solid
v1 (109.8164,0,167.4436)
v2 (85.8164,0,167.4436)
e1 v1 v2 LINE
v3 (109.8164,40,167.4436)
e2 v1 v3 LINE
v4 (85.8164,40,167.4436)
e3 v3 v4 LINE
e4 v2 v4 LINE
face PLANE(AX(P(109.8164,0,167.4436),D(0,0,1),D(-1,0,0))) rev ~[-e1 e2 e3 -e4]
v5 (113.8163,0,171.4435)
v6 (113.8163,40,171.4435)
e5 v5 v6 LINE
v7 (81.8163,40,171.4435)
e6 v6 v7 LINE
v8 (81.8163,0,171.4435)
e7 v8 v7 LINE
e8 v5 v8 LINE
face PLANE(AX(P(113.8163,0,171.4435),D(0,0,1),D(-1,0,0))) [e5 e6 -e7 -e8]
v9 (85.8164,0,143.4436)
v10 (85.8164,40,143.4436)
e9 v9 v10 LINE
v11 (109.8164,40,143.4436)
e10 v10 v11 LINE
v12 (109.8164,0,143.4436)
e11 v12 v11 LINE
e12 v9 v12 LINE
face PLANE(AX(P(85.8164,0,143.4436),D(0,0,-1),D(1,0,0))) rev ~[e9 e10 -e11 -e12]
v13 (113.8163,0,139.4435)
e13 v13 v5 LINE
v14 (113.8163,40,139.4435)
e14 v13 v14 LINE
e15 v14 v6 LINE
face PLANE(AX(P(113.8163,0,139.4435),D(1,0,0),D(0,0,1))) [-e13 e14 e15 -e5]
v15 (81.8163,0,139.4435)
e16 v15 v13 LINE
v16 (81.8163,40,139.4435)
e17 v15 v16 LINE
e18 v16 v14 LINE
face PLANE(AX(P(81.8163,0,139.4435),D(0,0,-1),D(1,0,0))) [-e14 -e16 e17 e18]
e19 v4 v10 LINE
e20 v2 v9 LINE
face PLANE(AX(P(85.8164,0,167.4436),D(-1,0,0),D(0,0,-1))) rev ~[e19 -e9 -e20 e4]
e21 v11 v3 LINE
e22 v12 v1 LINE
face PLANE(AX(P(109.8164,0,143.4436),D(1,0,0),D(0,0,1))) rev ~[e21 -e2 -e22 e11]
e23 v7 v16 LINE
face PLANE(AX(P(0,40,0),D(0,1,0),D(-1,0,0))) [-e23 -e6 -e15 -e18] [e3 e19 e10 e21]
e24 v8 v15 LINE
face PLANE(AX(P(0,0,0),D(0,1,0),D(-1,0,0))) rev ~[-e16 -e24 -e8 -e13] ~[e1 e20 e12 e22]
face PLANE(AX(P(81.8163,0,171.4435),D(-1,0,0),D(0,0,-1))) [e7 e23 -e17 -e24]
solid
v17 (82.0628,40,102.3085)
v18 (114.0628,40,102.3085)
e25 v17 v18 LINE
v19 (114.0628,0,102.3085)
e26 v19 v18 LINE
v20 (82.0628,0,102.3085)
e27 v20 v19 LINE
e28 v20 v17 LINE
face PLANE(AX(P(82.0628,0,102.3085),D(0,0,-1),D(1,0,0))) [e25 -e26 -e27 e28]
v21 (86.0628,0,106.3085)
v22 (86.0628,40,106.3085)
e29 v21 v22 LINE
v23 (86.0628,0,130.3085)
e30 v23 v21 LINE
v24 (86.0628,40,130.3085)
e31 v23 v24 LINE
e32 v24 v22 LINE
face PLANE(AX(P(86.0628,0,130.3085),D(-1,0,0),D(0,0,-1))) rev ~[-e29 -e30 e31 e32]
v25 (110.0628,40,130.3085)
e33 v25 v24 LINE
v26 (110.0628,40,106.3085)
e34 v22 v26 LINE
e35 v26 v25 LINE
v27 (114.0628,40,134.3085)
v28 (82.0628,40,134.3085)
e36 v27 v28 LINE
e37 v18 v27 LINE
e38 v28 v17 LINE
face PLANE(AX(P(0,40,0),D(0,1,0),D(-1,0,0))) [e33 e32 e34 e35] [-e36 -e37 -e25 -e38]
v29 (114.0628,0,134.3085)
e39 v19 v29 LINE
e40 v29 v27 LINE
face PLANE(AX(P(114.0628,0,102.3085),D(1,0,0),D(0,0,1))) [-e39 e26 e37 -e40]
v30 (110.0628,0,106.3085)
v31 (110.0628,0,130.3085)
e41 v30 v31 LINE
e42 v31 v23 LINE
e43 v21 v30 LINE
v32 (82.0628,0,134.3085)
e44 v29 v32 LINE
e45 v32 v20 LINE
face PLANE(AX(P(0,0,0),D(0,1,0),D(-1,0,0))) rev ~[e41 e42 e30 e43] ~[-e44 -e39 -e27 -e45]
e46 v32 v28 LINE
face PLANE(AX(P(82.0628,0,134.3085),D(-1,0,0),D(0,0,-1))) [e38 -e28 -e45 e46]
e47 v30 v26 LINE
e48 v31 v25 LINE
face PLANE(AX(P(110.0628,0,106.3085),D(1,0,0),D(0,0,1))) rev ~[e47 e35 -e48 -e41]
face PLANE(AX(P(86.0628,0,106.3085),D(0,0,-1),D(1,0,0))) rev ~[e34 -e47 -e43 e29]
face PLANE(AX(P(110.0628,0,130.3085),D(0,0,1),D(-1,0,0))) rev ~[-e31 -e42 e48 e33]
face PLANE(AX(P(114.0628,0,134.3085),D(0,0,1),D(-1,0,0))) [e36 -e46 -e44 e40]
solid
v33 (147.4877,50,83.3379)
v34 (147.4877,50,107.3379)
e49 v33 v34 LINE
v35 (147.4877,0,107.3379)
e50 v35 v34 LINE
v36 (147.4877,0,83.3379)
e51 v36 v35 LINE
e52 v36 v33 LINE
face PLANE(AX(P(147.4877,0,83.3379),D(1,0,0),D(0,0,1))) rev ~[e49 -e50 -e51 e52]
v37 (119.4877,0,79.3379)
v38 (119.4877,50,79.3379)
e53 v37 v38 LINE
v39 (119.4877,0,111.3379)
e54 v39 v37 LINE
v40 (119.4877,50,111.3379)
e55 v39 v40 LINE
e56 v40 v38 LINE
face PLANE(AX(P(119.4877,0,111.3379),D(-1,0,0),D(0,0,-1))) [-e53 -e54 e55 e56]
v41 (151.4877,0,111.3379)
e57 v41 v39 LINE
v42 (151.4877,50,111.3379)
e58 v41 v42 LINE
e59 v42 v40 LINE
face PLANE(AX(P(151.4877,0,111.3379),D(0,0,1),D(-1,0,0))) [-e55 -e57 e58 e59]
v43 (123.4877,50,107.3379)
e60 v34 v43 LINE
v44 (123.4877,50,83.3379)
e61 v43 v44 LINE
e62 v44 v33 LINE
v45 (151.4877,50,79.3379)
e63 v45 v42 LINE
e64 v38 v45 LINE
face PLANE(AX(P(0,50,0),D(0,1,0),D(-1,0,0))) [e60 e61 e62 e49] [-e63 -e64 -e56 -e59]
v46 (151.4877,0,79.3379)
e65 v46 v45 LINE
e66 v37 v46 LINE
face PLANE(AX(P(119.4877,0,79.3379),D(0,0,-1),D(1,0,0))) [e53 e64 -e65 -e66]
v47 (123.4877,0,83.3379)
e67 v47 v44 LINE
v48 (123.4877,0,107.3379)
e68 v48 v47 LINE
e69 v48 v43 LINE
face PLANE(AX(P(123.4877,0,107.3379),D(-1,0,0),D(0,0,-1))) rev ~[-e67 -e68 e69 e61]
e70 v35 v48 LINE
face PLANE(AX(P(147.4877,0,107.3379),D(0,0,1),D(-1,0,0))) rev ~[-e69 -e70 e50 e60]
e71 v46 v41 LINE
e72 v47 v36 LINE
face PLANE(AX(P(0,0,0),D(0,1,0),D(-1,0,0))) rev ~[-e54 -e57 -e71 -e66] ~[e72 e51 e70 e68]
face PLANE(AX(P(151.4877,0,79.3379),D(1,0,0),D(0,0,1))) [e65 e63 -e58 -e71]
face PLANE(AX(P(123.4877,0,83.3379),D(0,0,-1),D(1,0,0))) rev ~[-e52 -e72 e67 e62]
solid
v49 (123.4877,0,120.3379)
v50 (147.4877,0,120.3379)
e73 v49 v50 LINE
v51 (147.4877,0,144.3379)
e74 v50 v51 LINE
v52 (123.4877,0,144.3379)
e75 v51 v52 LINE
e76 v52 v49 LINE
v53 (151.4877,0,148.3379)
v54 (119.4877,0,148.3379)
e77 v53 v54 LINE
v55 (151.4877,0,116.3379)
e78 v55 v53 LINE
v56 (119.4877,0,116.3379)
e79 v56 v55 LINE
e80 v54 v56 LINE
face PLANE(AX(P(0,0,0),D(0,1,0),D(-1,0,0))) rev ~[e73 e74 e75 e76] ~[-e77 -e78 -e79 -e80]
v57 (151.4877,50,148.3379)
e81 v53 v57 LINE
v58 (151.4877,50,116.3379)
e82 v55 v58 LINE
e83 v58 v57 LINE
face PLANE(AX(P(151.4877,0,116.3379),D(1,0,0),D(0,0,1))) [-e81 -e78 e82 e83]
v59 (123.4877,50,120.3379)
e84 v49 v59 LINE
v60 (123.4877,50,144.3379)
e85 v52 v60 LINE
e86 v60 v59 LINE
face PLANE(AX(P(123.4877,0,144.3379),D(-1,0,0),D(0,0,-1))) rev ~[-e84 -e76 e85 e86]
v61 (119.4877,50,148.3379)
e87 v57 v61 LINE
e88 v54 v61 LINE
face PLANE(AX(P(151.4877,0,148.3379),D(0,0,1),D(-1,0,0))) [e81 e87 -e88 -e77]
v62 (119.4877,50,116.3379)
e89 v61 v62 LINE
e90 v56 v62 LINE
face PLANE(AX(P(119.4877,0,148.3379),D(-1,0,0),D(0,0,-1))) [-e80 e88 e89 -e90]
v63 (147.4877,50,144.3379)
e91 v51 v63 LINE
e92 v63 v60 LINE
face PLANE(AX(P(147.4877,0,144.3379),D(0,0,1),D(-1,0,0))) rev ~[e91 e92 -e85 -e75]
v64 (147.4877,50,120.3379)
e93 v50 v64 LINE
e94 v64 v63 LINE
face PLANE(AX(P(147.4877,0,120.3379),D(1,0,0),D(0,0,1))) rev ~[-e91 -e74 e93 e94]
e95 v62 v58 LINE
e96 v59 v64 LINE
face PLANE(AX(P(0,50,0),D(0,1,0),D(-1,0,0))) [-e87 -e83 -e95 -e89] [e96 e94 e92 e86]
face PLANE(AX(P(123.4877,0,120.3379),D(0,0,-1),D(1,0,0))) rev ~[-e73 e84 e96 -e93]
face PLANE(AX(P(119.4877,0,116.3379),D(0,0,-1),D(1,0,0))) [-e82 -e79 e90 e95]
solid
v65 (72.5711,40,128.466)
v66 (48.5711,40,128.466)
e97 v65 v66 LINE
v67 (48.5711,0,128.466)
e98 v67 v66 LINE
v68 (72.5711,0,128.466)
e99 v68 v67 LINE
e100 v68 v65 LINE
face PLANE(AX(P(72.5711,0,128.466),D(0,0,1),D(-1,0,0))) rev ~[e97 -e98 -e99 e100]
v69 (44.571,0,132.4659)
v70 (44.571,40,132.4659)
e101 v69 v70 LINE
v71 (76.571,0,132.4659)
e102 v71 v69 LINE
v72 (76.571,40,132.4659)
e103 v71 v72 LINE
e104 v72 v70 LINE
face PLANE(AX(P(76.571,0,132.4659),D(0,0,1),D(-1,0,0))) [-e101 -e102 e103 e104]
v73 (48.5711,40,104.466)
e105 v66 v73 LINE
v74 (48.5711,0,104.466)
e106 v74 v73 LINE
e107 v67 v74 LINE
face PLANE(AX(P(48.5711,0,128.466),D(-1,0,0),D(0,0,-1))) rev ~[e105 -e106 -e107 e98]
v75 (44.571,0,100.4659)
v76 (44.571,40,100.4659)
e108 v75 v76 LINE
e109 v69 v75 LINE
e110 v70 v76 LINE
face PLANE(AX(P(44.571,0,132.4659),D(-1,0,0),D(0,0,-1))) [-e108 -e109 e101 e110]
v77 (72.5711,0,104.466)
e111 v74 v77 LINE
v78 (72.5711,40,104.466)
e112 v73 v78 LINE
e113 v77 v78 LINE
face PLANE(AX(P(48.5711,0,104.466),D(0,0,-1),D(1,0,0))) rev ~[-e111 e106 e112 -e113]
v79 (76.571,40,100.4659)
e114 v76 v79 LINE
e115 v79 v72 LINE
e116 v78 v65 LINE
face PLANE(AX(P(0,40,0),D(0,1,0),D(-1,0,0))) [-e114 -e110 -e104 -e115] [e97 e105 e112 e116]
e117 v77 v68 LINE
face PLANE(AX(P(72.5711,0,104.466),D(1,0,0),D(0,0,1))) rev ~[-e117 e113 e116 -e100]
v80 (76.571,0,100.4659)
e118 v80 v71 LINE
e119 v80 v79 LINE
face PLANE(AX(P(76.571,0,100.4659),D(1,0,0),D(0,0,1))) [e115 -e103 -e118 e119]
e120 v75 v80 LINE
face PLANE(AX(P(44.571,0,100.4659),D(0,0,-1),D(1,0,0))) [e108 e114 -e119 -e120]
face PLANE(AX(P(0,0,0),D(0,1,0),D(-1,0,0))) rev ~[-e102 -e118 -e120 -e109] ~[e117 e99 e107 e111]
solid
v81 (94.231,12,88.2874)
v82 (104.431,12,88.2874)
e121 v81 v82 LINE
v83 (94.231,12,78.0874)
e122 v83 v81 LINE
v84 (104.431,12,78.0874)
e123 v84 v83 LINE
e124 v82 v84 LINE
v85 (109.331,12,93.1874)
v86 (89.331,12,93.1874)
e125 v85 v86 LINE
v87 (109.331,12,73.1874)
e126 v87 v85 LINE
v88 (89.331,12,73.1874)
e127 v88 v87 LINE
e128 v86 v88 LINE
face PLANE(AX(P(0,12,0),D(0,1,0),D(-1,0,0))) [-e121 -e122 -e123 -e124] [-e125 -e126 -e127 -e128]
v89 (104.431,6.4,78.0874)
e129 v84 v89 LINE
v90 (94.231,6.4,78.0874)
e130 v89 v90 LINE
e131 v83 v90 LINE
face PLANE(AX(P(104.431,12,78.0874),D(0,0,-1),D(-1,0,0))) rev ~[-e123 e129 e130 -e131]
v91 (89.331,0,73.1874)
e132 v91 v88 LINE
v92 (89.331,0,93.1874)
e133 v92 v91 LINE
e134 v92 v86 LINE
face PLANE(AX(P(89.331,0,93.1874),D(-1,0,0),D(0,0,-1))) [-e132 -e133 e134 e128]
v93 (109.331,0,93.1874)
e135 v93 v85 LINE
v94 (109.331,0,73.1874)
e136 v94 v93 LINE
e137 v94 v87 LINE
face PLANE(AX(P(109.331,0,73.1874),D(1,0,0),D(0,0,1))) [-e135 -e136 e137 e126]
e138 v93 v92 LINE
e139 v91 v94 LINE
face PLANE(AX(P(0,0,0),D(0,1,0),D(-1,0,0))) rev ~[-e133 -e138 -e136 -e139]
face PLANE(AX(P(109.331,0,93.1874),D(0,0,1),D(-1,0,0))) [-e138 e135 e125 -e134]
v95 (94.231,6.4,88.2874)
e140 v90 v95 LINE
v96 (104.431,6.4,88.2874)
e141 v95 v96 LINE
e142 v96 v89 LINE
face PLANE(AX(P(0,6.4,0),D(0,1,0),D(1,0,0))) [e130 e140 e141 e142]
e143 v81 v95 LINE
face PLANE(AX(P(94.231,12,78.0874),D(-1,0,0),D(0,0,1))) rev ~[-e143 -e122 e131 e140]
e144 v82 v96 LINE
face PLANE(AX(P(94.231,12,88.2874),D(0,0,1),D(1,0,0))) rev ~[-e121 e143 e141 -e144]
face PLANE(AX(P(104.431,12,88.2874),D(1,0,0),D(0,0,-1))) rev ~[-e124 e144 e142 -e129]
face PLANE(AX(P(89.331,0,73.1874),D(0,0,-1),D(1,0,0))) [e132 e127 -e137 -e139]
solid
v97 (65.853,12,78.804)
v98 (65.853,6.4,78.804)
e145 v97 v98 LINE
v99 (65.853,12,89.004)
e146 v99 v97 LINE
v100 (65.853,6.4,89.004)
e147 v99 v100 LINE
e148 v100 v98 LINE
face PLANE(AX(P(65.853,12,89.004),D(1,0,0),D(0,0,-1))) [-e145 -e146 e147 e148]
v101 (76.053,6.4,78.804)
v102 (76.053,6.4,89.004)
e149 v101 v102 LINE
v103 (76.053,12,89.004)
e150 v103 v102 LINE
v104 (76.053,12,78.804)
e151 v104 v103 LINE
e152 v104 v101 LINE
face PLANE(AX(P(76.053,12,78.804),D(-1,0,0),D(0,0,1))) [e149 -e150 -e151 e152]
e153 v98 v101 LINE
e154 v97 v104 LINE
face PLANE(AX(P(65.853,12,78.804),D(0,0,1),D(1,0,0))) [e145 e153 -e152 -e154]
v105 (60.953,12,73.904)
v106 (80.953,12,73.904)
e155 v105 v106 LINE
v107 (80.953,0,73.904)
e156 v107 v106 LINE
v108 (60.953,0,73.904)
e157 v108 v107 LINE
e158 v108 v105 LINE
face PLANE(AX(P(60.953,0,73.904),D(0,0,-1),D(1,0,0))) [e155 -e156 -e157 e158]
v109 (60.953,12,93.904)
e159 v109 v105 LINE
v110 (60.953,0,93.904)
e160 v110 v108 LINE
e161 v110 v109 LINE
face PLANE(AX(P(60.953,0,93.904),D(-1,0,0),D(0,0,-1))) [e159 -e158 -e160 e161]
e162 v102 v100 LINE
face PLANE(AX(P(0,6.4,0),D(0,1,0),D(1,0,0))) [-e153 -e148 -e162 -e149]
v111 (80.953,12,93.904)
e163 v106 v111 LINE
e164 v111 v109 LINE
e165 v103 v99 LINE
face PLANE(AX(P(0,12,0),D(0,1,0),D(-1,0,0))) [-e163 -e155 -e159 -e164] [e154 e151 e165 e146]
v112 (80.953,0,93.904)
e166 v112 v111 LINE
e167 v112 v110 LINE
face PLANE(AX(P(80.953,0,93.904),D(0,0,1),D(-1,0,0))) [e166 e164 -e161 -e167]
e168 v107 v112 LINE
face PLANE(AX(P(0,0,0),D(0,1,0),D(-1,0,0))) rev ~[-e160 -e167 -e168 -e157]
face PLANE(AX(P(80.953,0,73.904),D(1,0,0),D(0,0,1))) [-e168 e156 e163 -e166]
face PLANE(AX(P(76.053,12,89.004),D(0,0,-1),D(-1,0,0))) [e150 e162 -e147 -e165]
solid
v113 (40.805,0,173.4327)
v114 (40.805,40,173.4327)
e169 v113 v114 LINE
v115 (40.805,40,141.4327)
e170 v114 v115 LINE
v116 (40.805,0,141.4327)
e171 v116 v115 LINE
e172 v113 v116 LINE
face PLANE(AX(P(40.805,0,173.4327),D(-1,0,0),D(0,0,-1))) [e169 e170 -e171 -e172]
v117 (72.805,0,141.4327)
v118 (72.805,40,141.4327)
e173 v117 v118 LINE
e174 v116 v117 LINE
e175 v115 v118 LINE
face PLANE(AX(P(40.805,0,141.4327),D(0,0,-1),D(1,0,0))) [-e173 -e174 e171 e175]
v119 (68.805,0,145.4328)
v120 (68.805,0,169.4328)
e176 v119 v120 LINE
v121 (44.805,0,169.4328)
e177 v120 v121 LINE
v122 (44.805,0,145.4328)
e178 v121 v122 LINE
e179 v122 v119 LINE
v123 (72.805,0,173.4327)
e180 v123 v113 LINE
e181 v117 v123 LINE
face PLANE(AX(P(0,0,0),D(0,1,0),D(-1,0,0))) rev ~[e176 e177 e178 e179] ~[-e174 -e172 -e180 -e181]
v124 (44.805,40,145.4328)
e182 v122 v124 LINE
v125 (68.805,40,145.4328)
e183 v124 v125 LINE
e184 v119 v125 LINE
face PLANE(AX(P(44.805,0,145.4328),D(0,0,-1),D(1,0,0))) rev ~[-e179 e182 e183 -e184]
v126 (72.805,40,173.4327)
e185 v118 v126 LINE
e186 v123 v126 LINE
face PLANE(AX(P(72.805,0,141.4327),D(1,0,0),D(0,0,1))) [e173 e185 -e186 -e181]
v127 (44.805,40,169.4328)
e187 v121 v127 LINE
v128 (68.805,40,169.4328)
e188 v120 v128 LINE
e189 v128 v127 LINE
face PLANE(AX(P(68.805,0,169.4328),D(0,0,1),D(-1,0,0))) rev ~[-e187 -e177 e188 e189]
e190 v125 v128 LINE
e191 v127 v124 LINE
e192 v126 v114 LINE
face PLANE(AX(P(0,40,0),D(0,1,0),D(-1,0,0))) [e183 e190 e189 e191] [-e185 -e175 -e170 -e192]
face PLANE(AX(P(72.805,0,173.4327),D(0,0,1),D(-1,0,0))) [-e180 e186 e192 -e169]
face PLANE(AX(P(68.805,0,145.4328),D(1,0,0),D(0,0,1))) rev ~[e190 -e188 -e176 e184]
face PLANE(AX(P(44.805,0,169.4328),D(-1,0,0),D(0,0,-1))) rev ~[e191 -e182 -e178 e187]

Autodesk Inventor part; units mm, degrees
ref_plane "YZ Plane" through (0, 0, 0) normal (1, 0, 0) x (0, 1, 0)
ref_plane "XZ Plane" through (0, 0, 0) normal (0, 1, 0) x (-1, 0, 0)
ref_plane "XY Plane" through (0, 0, 0) normal (0, 0, 1) x (1, 0, 0)
sketch "草圖1" plane through (0, 0, 0) normal (0, 1, 0) x (-1, 0, 0)
  circle A0 centre (0, 0) radius 7
  circle A1 centre (0, 0) radius 11
  line L0 (0, 0) -> (-26.517, 0)
  line L1 (0, 0) -> (0, 28.4195)
  circle A2 centre (-26, 0) radius 7
  circle A3 centre (-26, 0) radius 11
  circle A4 centre (0, 26) radius 7
  circle A5 centre (0, 26) radius 11
  circle A6 centre (-26, 26) radius 7
  circle A7 centre (-26, 26) radius 11
  dimension "d0" = 14
  dimension "d1" = 22
  dimension "d6" = 26
  dimension "d9" = 26
sketch "草圖6" plane through (0, 0, 0) normal (0, 1, 0) x (-1, 0, 0)
  point P0 (0, 0)
sketch "草圖9" plane through (0, 0, 0) normal (0, 1, 0) x (-1, 0, 0)
  line L0 (-119.4877, 79.3379) -> (-151.4877, 79.3379)
  line L1 (-151.4877, 79.3379) -> (-151.4877, 111.3379)
  line L2 (-151.4877, 111.3379) -> (-119.4877, 111.3379)
  line L3 (-119.4877, 111.3379) -> (-119.4877, 79.3379)
  line L4 (-123.4877, 83.3379) -> (-147.4877, 83.3379)
  line L5 (-147.4877, 83.3379) -> (-147.4877, 107.3379)
  line L6 (-147.4877, 107.3379) -> (-123.4877, 107.3379)
  line L7 (-123.4877, 107.3379) -> (-123.4877, 83.3379)
  line L8 (-123.4877, 83.3379) -> (-147.4877, 107.3379) construction
  line L9 (-147.4877, 83.3379) -> (-123.4877, 107.3379) construction
  line L10 (-119.4877, 116.3379) -> (-151.4877, 116.3379)
  line L11 (-151.4877, 116.3379) -> (-151.4877, 148.3379)
  line L12 (-151.4877, 148.3379) -> (-119.4877, 148.3379)
  line L13 (-119.4877, 148.3379) -> (-119.4877, 116.3379)
  line L14 (-123.4877, 120.3379) -> (-147.4877, 120.3379)
  line L15 (-147.4877, 120.3379) -> (-147.4877, 144.3379)
  line L16 (-147.4877, 144.3379) -> (-123.4877, 144.3379)
  line L17 (-123.4877, 144.3379) -> (-123.4877, 120.3379)
  line L18 (-123.4877, 120.3379) -> (-147.4877, 144.3379) construction
  line L19 (-147.4877, 120.3379) -> (-123.4877, 144.3379) construction
  line L20 (-82.0628, 102.3085) -> (-114.0628, 102.3085)
  line L21 (-114.0628, 102.3085) -> (-114.0628, 134.3085)
  line L22 (-114.0628, 134.3085) -> (-82.0628, 134.3085)
  line L23 (-82.0628, 134.3085) -> (-82.0628, 102.3085)
  line L24 (-86.0628, 106.3085) -> (-110.0628, 106.3085)
  line L25 (-110.0628, 106.3085) -> (-110.0628, 130.3085)
  line L26 (-110.0628, 130.3085) -> (-86.0628, 130.3085)
  line L27 (-86.0628, 130.3085) -> (-86.0628, 106.3085)
  line L28 (-86.0628, 102.6348) -> (-110.0628, 126.6348) construction
  line L29 (-110.0628, 102.6348) -> (-86.0628, 126.6348) construction
  line L30 (35.5473, 81.3984) -> (3.5473, 81.3984)
  line L31 (3.5473, 81.3984) -> (3.5473, 113.3984)
  line L32 (3.5473, 113.3984) -> (35.5473, 113.3984)
  line L33 (35.5473, 113.3984) -> (35.5473, 81.3984)
  line L34 (31.5472, 85.3984) -> (7.5472, 85.3984)
  line L35 (7.5472, 85.3984) -> (7.5472, 109.3984)
  line L36 (7.5472, 109.3984) -> (31.5472, 109.3984)
  line L37 (31.5472, 109.3984) -> (31.5472, 85.3984)
  line L38 (31.5472, 85.3984) -> (7.5472, 109.3984) construction
  line L39 (7.5472, 85.3984) -> (31.5472, 109.3984) construction
  line L40 (34.8593, 41.843) -> (2.8593, 41.843)
  line L41 (30.8593, 45.843) -> (6.8593, 45.843)
  line L42 (6.8593, 45.843) -> (6.8593, 69.843)
  line L43 (2.8593, 41.843) -> (2.8593, 73.843)
  line L44 (6.8593, 69.843) -> (30.8593, 69.843)
  line L45 (30.8593, 45.843) -> (6.8593, 69.843) construction
  line L46 (6.8593, 45.843) -> (30.8593, 69.843) construction
  line L47 (2.8593, 73.843) -> (34.8593, 73.843)
  line L48 (30.8593, 69.843) -> (30.8593, 45.843)
  line L49 (34.8593, 73.843) -> (34.8593, 41.843)
  line L50 (-44.571, 100.4659) -> (-76.571, 100.4659)
  line L51 (-48.5711, 104.466) -> (-72.5711, 104.466)
  line L52 (-72.5711, 104.466) -> (-72.5711, 128.466)
  line L53 (-76.571, 100.4659) -> (-76.571, 132.4659)
  line L54 (-72.5711, 128.466) -> (-48.5711, 128.466)
  line L55 (-48.5711, 104.466) -> (-72.5711, 128.466) construction
  line L56 (-72.5711, 104.466) -> (-48.5711, 128.466) construction
  line L57 (-76.571, 132.4659) -> (-44.571, 132.4659)
  line L58 (-48.5711, 128.466) -> (-48.5711, 104.466)
  line L59 (-44.571, 132.4659) -> (-44.571, 100.4659)
  line L60 (-40.805, 141.4327) -> (-72.805, 141.4327)
  line L61 (-44.805, 145.4328) -> (-68.805, 145.4328)
  line L62 (-68.805, 145.4328) -> (-68.805, 169.4328)
  line L63 (-72.805, 141.4327) -> (-72.805, 173.4327)
  line L64 (-68.805, 169.4328) -> (-44.805, 169.4328)
  line L65 (-44.805, 145.4328) -> (-68.805, 169.4328) construction
  line L66 (-68.805, 145.4328) -> (-44.805, 169.4328) construction
  line L67 (-72.805, 173.4327) -> (-40.805, 173.4327)
  line L68 (-44.805, 169.4328) -> (-44.805, 145.4328)
  line L69 (-40.805, 173.4327) -> (-40.805, 141.4327)
  line L70 (-81.8163, 139.4435) -> (-113.8163, 139.4435)
  line L71 (-85.8164, 143.4436) -> (-109.8164, 143.4436)
  line L72 (-109.8164, 143.4436) -> (-109.8164, 167.4436)
  line L73 (-113.8163, 139.4435) -> (-113.8163, 171.4435)
  line L74 (-109.8164, 167.4436) -> (-85.8164, 167.4436)
  line L75 (-85.8164, 143.4436) -> (-109.8164, 167.4436) construction
  line L76 (-109.8164, 143.4436) -> (-85.8164, 167.4436) construction
  line L77 (-113.8163, 171.4435) -> (-81.8163, 171.4435)
  line L78 (-85.8164, 167.4436) -> (-85.8164, 143.4436)
  line L79 (-81.8163, 171.4435) -> (-81.8163, 139.4435)
  point P0 (0, 0)
  point P1 (-135.4877, 95.3379)
  point P2 (-135.4877, 132.3379)
  point P3 (-98.0628, 114.6348)
  point P4 (19.5472, 97.3984)
  point P5 (18.8593, 57.843)
  point P6 (-60.5711, 116.466)
  point P7 (-56.805, 157.4328)
  point P8 (-97.8164, 155.4436)
  dimension "d73" = 50.747
  dimension "d54" = 32
  dimension "d55" = 32
  dimension "d56" = 24
  dimension "d57" = 24
  dimension "d60" = 37
  dimension "d69" = 32
  dimension "d70" = 32
  dimension "d71" = 24
  dimension "d72" = 24
extrude "擠出9" add sketch "草圖9" along normal blind 50 contours L0 L1 L2 L3 | L10 L11 L12 L13
extrude "擠出10" add sketch "草圖9" along normal blind 40 contours L20 L21 L22 L23 | L50 L53 L57 L59 | L60 L63 L67 L69 | L70 L73 L77 L79
sketch "草圖10" plane through (0, 0, 0) normal (0, 1, 0) x (-1, 0, 0)
  line L0 (48.2716, 184.5725) -> (-274.6912, 184.5725)
  line L1 (-274.6912, 184.5725) -> (-274.6912, -18.9692)
  line L2 (-274.6912, -18.9692) -> (48.2716, -18.9692)
  line L3 (48.2716, -18.9692) -> (48.2716, 184.5725)
  point P0 (0, 0)
  dimension "d99" = 322.9628
  dimension "d100" = 203.5417
sketch "草圖11" plane through (0, 0, 0) normal (0, 1, 0) x (-1, 0, 0)
  line L0 (35.0654, 155.7952) -> (13.0654, 155.7952)
  line L1 (13.0654, 155.7952) -> (13.0654, 177.7952)
  line L2 (13.0654, 177.7952) -> (35.0654, 177.7952)
  line L3 (35.0654, 177.7952) -> (35.0654, 155.7952)
  line L4 (4.7905, 155.7952) -> (-17.2095, 155.7952)
  line L5 (-17.2095, 155.7952) -> (-17.2095, 177.7952)
  line L6 (-17.2095, 177.7952) -> (4.7905, 177.7952)
  line L7 (4.7905, 177.7952) -> (4.7905, 155.7952)
  point P0 (0, 0)
  dimension "d101" = 22
  dimension "d102" = 22
  dimension "d103" = 22
  dimension "d104" = 22
sketch "草圖12" plane through (0, 0, 0) normal (0, 1, 0) x (-1, 0, 0)
  line L0 (-109.331, 73.1874) -> (-109.331, 93.1874)
  line L1 (-109.331, 93.1874) -> (-89.331, 93.1874)
  line L2 (-89.331, 93.1874) -> (-89.331, 73.1874)
  line L3 (-89.331, 73.1874) -> (-109.331, 73.1874)
  line L4 (-80.953, 73.904) -> (-80.953, 93.904)
  line L5 (-80.953, 93.904) -> (-60.953, 93.904)
  line L6 (-60.953, 93.904) -> (-60.953, 73.904)
  line L7 (-60.953, 73.904) -> (-80.953, 73.904)
  line L8 (-38.2379, 177.9784) -> (-158.2379, 177.9784)
  line L9 (-158.2379, 177.9784) -> (-158.2379, 57.9784)
  line L10 (-158.2379, 57.9784) -> (-38.2379, 57.9784)
  line L11 (-38.2379, 57.9784) -> (-38.2379, 177.9784)
  point P0 (0, 0)
  dimension "d105" = 20
  dimension "d106" = 20
  dimension "d107" = 20
  dimension "d108" = 20
  dimension "d137" = 120
  dimension "d138" = 120
extrude "擠出12" add sketch "草圖12" along normal blind 12 contours L0 L1 L2 L3 | L4 L5 L6 L7
sketch "草圖13" plane through (0, 12, 0) normal (0, 1, 0) x (1, 0, 0)
  line L0 (60.953, -73.904) -> (60.953, -93.904) projected
  line L1 (80.953, -93.904) -> (80.953, -73.904) projected
  line L2 (60.953, -93.904) -> (80.953, -73.904)
  line L3 (89.331, -93.1874) -> (109.331, -93.1874) projected
  line L4 (109.331, -93.1874) -> (109.331, -73.1874) projected
  line L5 (89.331, -93.1874) -> (109.331, -73.1874)
  line L6 (-13.0654, -155.7952) -> (-35.0654, -155.7952) projected
  line L7 (-35.0654, -177.7952) -> (-13.0654, -177.7952) projected
  line L8 (-35.0654, -155.7952) -> (-13.0654, -177.7952)
  line L9 (-4.7905, -177.7952) -> (17.2095, -177.7952) projected
  line L10 (-4.7905, -155.7952) -> (17.2095, -177.7952)
  line L11 (-31.0654, -159.7952) -> (-17.0654, -159.7952)
  line L12 (-17.0654, -159.7952) -> (-17.0654, -173.7952)
  line L13 (-17.0654, -173.7952) -> (-31.0654, -173.7952)
  line L14 (-31.0654, -173.7952) -> (-31.0654, -159.7952)
  line L15 (-31.0654, -159.7952) -> (-17.0654, -173.7952) construction
  line L16 (-17.0654, -159.7952) -> (-31.0654, -173.7952) construction
  line L17 (-0.7905, -173.7952) -> (13.2095, -173.7952)
  line L18 (13.2095, -173.7952) -> (13.2095, -159.7952)
  line L19 (13.2095, -159.7952) -> (-0.7905, -159.7952)
  line L20 (-0.7905, -159.7952) -> (-0.7905, -173.7952)
  line L21 (-0.7905, -173.7952) -> (13.2095, -159.7952) construction
  line L22 (13.2095, -173.7952) -> (-0.7905, -159.7952) construction
  line L23 (65.853, -78.804) -> (76.053, -78.804)
  line L24 (76.053, -78.804) -> (76.053, -89.004)
  line L25 (76.053, -89.004) -> (65.853, -89.004)
  line L26 (65.853, -89.004) -> (65.853, -78.804)
  line L27 (65.853, -78.804) -> (76.053, -89.004) construction
  line L28 (76.053, -78.804) -> (65.853, -89.004) construction
  line L29 (94.231, -88.2874) -> (104.431, -88.2874)
  line L30 (104.431, -88.2874) -> (104.431, -78.0874)
  line L31 (104.431, -78.0874) -> (94.231, -78.0874)
  line L32 (94.231, -78.0874) -> (94.231, -88.2874)
  line L33 (94.231, -88.2874) -> (104.431, -78.0874) construction
  line L34 (104.431, -88.2874) -> (94.231, -78.0874) construction
  point P0 (0, 0)
  point P1 (-24.0654, -166.7952)
  point P2 (6.2095, -166.7952)
  point P3 (70.953, -83.904)
  point P4 (99.331, -83.1874)
  dimension "d113" = 14
  dimension "d114" = 14
  dimension "d115" = 14
  dimension "d116" = 14
  dimension "d117" = 10.2
  dimension "d118" = 10.2
  dimension "d119" = 10.2
  dimension "d120" = 10.2
extrude "擠出13" cut sketch "草圖13" against normal blind 5.6 contours L26 L23 L2 | L2 L24 L25 | L32 L31 L5 | L5 L30 L29 | L11 L12 L8 | L8 L13 L14 | L19 L18 L10 | L10 L17 L20
sketch "草圖15" plane through (0, 0, 0) normal (0, 1, 0) x (-1, 0, 0)
  line L0 (41.1091, -16.1505) -> (-78.8909, -16.1505)
  line L1 (-78.8909, -16.1505) -> (-78.8909, 103.8495)
  line L2 (-78.8909, 103.8495) -> (41.1091, 103.8495)
  line L3 (41.1091, 103.8495) -> (41.1091, -16.1505)
  point P0 (0, 0)
  dimension "d135" = 120
  dimension "d136" = 120
properties part number "axie3"
